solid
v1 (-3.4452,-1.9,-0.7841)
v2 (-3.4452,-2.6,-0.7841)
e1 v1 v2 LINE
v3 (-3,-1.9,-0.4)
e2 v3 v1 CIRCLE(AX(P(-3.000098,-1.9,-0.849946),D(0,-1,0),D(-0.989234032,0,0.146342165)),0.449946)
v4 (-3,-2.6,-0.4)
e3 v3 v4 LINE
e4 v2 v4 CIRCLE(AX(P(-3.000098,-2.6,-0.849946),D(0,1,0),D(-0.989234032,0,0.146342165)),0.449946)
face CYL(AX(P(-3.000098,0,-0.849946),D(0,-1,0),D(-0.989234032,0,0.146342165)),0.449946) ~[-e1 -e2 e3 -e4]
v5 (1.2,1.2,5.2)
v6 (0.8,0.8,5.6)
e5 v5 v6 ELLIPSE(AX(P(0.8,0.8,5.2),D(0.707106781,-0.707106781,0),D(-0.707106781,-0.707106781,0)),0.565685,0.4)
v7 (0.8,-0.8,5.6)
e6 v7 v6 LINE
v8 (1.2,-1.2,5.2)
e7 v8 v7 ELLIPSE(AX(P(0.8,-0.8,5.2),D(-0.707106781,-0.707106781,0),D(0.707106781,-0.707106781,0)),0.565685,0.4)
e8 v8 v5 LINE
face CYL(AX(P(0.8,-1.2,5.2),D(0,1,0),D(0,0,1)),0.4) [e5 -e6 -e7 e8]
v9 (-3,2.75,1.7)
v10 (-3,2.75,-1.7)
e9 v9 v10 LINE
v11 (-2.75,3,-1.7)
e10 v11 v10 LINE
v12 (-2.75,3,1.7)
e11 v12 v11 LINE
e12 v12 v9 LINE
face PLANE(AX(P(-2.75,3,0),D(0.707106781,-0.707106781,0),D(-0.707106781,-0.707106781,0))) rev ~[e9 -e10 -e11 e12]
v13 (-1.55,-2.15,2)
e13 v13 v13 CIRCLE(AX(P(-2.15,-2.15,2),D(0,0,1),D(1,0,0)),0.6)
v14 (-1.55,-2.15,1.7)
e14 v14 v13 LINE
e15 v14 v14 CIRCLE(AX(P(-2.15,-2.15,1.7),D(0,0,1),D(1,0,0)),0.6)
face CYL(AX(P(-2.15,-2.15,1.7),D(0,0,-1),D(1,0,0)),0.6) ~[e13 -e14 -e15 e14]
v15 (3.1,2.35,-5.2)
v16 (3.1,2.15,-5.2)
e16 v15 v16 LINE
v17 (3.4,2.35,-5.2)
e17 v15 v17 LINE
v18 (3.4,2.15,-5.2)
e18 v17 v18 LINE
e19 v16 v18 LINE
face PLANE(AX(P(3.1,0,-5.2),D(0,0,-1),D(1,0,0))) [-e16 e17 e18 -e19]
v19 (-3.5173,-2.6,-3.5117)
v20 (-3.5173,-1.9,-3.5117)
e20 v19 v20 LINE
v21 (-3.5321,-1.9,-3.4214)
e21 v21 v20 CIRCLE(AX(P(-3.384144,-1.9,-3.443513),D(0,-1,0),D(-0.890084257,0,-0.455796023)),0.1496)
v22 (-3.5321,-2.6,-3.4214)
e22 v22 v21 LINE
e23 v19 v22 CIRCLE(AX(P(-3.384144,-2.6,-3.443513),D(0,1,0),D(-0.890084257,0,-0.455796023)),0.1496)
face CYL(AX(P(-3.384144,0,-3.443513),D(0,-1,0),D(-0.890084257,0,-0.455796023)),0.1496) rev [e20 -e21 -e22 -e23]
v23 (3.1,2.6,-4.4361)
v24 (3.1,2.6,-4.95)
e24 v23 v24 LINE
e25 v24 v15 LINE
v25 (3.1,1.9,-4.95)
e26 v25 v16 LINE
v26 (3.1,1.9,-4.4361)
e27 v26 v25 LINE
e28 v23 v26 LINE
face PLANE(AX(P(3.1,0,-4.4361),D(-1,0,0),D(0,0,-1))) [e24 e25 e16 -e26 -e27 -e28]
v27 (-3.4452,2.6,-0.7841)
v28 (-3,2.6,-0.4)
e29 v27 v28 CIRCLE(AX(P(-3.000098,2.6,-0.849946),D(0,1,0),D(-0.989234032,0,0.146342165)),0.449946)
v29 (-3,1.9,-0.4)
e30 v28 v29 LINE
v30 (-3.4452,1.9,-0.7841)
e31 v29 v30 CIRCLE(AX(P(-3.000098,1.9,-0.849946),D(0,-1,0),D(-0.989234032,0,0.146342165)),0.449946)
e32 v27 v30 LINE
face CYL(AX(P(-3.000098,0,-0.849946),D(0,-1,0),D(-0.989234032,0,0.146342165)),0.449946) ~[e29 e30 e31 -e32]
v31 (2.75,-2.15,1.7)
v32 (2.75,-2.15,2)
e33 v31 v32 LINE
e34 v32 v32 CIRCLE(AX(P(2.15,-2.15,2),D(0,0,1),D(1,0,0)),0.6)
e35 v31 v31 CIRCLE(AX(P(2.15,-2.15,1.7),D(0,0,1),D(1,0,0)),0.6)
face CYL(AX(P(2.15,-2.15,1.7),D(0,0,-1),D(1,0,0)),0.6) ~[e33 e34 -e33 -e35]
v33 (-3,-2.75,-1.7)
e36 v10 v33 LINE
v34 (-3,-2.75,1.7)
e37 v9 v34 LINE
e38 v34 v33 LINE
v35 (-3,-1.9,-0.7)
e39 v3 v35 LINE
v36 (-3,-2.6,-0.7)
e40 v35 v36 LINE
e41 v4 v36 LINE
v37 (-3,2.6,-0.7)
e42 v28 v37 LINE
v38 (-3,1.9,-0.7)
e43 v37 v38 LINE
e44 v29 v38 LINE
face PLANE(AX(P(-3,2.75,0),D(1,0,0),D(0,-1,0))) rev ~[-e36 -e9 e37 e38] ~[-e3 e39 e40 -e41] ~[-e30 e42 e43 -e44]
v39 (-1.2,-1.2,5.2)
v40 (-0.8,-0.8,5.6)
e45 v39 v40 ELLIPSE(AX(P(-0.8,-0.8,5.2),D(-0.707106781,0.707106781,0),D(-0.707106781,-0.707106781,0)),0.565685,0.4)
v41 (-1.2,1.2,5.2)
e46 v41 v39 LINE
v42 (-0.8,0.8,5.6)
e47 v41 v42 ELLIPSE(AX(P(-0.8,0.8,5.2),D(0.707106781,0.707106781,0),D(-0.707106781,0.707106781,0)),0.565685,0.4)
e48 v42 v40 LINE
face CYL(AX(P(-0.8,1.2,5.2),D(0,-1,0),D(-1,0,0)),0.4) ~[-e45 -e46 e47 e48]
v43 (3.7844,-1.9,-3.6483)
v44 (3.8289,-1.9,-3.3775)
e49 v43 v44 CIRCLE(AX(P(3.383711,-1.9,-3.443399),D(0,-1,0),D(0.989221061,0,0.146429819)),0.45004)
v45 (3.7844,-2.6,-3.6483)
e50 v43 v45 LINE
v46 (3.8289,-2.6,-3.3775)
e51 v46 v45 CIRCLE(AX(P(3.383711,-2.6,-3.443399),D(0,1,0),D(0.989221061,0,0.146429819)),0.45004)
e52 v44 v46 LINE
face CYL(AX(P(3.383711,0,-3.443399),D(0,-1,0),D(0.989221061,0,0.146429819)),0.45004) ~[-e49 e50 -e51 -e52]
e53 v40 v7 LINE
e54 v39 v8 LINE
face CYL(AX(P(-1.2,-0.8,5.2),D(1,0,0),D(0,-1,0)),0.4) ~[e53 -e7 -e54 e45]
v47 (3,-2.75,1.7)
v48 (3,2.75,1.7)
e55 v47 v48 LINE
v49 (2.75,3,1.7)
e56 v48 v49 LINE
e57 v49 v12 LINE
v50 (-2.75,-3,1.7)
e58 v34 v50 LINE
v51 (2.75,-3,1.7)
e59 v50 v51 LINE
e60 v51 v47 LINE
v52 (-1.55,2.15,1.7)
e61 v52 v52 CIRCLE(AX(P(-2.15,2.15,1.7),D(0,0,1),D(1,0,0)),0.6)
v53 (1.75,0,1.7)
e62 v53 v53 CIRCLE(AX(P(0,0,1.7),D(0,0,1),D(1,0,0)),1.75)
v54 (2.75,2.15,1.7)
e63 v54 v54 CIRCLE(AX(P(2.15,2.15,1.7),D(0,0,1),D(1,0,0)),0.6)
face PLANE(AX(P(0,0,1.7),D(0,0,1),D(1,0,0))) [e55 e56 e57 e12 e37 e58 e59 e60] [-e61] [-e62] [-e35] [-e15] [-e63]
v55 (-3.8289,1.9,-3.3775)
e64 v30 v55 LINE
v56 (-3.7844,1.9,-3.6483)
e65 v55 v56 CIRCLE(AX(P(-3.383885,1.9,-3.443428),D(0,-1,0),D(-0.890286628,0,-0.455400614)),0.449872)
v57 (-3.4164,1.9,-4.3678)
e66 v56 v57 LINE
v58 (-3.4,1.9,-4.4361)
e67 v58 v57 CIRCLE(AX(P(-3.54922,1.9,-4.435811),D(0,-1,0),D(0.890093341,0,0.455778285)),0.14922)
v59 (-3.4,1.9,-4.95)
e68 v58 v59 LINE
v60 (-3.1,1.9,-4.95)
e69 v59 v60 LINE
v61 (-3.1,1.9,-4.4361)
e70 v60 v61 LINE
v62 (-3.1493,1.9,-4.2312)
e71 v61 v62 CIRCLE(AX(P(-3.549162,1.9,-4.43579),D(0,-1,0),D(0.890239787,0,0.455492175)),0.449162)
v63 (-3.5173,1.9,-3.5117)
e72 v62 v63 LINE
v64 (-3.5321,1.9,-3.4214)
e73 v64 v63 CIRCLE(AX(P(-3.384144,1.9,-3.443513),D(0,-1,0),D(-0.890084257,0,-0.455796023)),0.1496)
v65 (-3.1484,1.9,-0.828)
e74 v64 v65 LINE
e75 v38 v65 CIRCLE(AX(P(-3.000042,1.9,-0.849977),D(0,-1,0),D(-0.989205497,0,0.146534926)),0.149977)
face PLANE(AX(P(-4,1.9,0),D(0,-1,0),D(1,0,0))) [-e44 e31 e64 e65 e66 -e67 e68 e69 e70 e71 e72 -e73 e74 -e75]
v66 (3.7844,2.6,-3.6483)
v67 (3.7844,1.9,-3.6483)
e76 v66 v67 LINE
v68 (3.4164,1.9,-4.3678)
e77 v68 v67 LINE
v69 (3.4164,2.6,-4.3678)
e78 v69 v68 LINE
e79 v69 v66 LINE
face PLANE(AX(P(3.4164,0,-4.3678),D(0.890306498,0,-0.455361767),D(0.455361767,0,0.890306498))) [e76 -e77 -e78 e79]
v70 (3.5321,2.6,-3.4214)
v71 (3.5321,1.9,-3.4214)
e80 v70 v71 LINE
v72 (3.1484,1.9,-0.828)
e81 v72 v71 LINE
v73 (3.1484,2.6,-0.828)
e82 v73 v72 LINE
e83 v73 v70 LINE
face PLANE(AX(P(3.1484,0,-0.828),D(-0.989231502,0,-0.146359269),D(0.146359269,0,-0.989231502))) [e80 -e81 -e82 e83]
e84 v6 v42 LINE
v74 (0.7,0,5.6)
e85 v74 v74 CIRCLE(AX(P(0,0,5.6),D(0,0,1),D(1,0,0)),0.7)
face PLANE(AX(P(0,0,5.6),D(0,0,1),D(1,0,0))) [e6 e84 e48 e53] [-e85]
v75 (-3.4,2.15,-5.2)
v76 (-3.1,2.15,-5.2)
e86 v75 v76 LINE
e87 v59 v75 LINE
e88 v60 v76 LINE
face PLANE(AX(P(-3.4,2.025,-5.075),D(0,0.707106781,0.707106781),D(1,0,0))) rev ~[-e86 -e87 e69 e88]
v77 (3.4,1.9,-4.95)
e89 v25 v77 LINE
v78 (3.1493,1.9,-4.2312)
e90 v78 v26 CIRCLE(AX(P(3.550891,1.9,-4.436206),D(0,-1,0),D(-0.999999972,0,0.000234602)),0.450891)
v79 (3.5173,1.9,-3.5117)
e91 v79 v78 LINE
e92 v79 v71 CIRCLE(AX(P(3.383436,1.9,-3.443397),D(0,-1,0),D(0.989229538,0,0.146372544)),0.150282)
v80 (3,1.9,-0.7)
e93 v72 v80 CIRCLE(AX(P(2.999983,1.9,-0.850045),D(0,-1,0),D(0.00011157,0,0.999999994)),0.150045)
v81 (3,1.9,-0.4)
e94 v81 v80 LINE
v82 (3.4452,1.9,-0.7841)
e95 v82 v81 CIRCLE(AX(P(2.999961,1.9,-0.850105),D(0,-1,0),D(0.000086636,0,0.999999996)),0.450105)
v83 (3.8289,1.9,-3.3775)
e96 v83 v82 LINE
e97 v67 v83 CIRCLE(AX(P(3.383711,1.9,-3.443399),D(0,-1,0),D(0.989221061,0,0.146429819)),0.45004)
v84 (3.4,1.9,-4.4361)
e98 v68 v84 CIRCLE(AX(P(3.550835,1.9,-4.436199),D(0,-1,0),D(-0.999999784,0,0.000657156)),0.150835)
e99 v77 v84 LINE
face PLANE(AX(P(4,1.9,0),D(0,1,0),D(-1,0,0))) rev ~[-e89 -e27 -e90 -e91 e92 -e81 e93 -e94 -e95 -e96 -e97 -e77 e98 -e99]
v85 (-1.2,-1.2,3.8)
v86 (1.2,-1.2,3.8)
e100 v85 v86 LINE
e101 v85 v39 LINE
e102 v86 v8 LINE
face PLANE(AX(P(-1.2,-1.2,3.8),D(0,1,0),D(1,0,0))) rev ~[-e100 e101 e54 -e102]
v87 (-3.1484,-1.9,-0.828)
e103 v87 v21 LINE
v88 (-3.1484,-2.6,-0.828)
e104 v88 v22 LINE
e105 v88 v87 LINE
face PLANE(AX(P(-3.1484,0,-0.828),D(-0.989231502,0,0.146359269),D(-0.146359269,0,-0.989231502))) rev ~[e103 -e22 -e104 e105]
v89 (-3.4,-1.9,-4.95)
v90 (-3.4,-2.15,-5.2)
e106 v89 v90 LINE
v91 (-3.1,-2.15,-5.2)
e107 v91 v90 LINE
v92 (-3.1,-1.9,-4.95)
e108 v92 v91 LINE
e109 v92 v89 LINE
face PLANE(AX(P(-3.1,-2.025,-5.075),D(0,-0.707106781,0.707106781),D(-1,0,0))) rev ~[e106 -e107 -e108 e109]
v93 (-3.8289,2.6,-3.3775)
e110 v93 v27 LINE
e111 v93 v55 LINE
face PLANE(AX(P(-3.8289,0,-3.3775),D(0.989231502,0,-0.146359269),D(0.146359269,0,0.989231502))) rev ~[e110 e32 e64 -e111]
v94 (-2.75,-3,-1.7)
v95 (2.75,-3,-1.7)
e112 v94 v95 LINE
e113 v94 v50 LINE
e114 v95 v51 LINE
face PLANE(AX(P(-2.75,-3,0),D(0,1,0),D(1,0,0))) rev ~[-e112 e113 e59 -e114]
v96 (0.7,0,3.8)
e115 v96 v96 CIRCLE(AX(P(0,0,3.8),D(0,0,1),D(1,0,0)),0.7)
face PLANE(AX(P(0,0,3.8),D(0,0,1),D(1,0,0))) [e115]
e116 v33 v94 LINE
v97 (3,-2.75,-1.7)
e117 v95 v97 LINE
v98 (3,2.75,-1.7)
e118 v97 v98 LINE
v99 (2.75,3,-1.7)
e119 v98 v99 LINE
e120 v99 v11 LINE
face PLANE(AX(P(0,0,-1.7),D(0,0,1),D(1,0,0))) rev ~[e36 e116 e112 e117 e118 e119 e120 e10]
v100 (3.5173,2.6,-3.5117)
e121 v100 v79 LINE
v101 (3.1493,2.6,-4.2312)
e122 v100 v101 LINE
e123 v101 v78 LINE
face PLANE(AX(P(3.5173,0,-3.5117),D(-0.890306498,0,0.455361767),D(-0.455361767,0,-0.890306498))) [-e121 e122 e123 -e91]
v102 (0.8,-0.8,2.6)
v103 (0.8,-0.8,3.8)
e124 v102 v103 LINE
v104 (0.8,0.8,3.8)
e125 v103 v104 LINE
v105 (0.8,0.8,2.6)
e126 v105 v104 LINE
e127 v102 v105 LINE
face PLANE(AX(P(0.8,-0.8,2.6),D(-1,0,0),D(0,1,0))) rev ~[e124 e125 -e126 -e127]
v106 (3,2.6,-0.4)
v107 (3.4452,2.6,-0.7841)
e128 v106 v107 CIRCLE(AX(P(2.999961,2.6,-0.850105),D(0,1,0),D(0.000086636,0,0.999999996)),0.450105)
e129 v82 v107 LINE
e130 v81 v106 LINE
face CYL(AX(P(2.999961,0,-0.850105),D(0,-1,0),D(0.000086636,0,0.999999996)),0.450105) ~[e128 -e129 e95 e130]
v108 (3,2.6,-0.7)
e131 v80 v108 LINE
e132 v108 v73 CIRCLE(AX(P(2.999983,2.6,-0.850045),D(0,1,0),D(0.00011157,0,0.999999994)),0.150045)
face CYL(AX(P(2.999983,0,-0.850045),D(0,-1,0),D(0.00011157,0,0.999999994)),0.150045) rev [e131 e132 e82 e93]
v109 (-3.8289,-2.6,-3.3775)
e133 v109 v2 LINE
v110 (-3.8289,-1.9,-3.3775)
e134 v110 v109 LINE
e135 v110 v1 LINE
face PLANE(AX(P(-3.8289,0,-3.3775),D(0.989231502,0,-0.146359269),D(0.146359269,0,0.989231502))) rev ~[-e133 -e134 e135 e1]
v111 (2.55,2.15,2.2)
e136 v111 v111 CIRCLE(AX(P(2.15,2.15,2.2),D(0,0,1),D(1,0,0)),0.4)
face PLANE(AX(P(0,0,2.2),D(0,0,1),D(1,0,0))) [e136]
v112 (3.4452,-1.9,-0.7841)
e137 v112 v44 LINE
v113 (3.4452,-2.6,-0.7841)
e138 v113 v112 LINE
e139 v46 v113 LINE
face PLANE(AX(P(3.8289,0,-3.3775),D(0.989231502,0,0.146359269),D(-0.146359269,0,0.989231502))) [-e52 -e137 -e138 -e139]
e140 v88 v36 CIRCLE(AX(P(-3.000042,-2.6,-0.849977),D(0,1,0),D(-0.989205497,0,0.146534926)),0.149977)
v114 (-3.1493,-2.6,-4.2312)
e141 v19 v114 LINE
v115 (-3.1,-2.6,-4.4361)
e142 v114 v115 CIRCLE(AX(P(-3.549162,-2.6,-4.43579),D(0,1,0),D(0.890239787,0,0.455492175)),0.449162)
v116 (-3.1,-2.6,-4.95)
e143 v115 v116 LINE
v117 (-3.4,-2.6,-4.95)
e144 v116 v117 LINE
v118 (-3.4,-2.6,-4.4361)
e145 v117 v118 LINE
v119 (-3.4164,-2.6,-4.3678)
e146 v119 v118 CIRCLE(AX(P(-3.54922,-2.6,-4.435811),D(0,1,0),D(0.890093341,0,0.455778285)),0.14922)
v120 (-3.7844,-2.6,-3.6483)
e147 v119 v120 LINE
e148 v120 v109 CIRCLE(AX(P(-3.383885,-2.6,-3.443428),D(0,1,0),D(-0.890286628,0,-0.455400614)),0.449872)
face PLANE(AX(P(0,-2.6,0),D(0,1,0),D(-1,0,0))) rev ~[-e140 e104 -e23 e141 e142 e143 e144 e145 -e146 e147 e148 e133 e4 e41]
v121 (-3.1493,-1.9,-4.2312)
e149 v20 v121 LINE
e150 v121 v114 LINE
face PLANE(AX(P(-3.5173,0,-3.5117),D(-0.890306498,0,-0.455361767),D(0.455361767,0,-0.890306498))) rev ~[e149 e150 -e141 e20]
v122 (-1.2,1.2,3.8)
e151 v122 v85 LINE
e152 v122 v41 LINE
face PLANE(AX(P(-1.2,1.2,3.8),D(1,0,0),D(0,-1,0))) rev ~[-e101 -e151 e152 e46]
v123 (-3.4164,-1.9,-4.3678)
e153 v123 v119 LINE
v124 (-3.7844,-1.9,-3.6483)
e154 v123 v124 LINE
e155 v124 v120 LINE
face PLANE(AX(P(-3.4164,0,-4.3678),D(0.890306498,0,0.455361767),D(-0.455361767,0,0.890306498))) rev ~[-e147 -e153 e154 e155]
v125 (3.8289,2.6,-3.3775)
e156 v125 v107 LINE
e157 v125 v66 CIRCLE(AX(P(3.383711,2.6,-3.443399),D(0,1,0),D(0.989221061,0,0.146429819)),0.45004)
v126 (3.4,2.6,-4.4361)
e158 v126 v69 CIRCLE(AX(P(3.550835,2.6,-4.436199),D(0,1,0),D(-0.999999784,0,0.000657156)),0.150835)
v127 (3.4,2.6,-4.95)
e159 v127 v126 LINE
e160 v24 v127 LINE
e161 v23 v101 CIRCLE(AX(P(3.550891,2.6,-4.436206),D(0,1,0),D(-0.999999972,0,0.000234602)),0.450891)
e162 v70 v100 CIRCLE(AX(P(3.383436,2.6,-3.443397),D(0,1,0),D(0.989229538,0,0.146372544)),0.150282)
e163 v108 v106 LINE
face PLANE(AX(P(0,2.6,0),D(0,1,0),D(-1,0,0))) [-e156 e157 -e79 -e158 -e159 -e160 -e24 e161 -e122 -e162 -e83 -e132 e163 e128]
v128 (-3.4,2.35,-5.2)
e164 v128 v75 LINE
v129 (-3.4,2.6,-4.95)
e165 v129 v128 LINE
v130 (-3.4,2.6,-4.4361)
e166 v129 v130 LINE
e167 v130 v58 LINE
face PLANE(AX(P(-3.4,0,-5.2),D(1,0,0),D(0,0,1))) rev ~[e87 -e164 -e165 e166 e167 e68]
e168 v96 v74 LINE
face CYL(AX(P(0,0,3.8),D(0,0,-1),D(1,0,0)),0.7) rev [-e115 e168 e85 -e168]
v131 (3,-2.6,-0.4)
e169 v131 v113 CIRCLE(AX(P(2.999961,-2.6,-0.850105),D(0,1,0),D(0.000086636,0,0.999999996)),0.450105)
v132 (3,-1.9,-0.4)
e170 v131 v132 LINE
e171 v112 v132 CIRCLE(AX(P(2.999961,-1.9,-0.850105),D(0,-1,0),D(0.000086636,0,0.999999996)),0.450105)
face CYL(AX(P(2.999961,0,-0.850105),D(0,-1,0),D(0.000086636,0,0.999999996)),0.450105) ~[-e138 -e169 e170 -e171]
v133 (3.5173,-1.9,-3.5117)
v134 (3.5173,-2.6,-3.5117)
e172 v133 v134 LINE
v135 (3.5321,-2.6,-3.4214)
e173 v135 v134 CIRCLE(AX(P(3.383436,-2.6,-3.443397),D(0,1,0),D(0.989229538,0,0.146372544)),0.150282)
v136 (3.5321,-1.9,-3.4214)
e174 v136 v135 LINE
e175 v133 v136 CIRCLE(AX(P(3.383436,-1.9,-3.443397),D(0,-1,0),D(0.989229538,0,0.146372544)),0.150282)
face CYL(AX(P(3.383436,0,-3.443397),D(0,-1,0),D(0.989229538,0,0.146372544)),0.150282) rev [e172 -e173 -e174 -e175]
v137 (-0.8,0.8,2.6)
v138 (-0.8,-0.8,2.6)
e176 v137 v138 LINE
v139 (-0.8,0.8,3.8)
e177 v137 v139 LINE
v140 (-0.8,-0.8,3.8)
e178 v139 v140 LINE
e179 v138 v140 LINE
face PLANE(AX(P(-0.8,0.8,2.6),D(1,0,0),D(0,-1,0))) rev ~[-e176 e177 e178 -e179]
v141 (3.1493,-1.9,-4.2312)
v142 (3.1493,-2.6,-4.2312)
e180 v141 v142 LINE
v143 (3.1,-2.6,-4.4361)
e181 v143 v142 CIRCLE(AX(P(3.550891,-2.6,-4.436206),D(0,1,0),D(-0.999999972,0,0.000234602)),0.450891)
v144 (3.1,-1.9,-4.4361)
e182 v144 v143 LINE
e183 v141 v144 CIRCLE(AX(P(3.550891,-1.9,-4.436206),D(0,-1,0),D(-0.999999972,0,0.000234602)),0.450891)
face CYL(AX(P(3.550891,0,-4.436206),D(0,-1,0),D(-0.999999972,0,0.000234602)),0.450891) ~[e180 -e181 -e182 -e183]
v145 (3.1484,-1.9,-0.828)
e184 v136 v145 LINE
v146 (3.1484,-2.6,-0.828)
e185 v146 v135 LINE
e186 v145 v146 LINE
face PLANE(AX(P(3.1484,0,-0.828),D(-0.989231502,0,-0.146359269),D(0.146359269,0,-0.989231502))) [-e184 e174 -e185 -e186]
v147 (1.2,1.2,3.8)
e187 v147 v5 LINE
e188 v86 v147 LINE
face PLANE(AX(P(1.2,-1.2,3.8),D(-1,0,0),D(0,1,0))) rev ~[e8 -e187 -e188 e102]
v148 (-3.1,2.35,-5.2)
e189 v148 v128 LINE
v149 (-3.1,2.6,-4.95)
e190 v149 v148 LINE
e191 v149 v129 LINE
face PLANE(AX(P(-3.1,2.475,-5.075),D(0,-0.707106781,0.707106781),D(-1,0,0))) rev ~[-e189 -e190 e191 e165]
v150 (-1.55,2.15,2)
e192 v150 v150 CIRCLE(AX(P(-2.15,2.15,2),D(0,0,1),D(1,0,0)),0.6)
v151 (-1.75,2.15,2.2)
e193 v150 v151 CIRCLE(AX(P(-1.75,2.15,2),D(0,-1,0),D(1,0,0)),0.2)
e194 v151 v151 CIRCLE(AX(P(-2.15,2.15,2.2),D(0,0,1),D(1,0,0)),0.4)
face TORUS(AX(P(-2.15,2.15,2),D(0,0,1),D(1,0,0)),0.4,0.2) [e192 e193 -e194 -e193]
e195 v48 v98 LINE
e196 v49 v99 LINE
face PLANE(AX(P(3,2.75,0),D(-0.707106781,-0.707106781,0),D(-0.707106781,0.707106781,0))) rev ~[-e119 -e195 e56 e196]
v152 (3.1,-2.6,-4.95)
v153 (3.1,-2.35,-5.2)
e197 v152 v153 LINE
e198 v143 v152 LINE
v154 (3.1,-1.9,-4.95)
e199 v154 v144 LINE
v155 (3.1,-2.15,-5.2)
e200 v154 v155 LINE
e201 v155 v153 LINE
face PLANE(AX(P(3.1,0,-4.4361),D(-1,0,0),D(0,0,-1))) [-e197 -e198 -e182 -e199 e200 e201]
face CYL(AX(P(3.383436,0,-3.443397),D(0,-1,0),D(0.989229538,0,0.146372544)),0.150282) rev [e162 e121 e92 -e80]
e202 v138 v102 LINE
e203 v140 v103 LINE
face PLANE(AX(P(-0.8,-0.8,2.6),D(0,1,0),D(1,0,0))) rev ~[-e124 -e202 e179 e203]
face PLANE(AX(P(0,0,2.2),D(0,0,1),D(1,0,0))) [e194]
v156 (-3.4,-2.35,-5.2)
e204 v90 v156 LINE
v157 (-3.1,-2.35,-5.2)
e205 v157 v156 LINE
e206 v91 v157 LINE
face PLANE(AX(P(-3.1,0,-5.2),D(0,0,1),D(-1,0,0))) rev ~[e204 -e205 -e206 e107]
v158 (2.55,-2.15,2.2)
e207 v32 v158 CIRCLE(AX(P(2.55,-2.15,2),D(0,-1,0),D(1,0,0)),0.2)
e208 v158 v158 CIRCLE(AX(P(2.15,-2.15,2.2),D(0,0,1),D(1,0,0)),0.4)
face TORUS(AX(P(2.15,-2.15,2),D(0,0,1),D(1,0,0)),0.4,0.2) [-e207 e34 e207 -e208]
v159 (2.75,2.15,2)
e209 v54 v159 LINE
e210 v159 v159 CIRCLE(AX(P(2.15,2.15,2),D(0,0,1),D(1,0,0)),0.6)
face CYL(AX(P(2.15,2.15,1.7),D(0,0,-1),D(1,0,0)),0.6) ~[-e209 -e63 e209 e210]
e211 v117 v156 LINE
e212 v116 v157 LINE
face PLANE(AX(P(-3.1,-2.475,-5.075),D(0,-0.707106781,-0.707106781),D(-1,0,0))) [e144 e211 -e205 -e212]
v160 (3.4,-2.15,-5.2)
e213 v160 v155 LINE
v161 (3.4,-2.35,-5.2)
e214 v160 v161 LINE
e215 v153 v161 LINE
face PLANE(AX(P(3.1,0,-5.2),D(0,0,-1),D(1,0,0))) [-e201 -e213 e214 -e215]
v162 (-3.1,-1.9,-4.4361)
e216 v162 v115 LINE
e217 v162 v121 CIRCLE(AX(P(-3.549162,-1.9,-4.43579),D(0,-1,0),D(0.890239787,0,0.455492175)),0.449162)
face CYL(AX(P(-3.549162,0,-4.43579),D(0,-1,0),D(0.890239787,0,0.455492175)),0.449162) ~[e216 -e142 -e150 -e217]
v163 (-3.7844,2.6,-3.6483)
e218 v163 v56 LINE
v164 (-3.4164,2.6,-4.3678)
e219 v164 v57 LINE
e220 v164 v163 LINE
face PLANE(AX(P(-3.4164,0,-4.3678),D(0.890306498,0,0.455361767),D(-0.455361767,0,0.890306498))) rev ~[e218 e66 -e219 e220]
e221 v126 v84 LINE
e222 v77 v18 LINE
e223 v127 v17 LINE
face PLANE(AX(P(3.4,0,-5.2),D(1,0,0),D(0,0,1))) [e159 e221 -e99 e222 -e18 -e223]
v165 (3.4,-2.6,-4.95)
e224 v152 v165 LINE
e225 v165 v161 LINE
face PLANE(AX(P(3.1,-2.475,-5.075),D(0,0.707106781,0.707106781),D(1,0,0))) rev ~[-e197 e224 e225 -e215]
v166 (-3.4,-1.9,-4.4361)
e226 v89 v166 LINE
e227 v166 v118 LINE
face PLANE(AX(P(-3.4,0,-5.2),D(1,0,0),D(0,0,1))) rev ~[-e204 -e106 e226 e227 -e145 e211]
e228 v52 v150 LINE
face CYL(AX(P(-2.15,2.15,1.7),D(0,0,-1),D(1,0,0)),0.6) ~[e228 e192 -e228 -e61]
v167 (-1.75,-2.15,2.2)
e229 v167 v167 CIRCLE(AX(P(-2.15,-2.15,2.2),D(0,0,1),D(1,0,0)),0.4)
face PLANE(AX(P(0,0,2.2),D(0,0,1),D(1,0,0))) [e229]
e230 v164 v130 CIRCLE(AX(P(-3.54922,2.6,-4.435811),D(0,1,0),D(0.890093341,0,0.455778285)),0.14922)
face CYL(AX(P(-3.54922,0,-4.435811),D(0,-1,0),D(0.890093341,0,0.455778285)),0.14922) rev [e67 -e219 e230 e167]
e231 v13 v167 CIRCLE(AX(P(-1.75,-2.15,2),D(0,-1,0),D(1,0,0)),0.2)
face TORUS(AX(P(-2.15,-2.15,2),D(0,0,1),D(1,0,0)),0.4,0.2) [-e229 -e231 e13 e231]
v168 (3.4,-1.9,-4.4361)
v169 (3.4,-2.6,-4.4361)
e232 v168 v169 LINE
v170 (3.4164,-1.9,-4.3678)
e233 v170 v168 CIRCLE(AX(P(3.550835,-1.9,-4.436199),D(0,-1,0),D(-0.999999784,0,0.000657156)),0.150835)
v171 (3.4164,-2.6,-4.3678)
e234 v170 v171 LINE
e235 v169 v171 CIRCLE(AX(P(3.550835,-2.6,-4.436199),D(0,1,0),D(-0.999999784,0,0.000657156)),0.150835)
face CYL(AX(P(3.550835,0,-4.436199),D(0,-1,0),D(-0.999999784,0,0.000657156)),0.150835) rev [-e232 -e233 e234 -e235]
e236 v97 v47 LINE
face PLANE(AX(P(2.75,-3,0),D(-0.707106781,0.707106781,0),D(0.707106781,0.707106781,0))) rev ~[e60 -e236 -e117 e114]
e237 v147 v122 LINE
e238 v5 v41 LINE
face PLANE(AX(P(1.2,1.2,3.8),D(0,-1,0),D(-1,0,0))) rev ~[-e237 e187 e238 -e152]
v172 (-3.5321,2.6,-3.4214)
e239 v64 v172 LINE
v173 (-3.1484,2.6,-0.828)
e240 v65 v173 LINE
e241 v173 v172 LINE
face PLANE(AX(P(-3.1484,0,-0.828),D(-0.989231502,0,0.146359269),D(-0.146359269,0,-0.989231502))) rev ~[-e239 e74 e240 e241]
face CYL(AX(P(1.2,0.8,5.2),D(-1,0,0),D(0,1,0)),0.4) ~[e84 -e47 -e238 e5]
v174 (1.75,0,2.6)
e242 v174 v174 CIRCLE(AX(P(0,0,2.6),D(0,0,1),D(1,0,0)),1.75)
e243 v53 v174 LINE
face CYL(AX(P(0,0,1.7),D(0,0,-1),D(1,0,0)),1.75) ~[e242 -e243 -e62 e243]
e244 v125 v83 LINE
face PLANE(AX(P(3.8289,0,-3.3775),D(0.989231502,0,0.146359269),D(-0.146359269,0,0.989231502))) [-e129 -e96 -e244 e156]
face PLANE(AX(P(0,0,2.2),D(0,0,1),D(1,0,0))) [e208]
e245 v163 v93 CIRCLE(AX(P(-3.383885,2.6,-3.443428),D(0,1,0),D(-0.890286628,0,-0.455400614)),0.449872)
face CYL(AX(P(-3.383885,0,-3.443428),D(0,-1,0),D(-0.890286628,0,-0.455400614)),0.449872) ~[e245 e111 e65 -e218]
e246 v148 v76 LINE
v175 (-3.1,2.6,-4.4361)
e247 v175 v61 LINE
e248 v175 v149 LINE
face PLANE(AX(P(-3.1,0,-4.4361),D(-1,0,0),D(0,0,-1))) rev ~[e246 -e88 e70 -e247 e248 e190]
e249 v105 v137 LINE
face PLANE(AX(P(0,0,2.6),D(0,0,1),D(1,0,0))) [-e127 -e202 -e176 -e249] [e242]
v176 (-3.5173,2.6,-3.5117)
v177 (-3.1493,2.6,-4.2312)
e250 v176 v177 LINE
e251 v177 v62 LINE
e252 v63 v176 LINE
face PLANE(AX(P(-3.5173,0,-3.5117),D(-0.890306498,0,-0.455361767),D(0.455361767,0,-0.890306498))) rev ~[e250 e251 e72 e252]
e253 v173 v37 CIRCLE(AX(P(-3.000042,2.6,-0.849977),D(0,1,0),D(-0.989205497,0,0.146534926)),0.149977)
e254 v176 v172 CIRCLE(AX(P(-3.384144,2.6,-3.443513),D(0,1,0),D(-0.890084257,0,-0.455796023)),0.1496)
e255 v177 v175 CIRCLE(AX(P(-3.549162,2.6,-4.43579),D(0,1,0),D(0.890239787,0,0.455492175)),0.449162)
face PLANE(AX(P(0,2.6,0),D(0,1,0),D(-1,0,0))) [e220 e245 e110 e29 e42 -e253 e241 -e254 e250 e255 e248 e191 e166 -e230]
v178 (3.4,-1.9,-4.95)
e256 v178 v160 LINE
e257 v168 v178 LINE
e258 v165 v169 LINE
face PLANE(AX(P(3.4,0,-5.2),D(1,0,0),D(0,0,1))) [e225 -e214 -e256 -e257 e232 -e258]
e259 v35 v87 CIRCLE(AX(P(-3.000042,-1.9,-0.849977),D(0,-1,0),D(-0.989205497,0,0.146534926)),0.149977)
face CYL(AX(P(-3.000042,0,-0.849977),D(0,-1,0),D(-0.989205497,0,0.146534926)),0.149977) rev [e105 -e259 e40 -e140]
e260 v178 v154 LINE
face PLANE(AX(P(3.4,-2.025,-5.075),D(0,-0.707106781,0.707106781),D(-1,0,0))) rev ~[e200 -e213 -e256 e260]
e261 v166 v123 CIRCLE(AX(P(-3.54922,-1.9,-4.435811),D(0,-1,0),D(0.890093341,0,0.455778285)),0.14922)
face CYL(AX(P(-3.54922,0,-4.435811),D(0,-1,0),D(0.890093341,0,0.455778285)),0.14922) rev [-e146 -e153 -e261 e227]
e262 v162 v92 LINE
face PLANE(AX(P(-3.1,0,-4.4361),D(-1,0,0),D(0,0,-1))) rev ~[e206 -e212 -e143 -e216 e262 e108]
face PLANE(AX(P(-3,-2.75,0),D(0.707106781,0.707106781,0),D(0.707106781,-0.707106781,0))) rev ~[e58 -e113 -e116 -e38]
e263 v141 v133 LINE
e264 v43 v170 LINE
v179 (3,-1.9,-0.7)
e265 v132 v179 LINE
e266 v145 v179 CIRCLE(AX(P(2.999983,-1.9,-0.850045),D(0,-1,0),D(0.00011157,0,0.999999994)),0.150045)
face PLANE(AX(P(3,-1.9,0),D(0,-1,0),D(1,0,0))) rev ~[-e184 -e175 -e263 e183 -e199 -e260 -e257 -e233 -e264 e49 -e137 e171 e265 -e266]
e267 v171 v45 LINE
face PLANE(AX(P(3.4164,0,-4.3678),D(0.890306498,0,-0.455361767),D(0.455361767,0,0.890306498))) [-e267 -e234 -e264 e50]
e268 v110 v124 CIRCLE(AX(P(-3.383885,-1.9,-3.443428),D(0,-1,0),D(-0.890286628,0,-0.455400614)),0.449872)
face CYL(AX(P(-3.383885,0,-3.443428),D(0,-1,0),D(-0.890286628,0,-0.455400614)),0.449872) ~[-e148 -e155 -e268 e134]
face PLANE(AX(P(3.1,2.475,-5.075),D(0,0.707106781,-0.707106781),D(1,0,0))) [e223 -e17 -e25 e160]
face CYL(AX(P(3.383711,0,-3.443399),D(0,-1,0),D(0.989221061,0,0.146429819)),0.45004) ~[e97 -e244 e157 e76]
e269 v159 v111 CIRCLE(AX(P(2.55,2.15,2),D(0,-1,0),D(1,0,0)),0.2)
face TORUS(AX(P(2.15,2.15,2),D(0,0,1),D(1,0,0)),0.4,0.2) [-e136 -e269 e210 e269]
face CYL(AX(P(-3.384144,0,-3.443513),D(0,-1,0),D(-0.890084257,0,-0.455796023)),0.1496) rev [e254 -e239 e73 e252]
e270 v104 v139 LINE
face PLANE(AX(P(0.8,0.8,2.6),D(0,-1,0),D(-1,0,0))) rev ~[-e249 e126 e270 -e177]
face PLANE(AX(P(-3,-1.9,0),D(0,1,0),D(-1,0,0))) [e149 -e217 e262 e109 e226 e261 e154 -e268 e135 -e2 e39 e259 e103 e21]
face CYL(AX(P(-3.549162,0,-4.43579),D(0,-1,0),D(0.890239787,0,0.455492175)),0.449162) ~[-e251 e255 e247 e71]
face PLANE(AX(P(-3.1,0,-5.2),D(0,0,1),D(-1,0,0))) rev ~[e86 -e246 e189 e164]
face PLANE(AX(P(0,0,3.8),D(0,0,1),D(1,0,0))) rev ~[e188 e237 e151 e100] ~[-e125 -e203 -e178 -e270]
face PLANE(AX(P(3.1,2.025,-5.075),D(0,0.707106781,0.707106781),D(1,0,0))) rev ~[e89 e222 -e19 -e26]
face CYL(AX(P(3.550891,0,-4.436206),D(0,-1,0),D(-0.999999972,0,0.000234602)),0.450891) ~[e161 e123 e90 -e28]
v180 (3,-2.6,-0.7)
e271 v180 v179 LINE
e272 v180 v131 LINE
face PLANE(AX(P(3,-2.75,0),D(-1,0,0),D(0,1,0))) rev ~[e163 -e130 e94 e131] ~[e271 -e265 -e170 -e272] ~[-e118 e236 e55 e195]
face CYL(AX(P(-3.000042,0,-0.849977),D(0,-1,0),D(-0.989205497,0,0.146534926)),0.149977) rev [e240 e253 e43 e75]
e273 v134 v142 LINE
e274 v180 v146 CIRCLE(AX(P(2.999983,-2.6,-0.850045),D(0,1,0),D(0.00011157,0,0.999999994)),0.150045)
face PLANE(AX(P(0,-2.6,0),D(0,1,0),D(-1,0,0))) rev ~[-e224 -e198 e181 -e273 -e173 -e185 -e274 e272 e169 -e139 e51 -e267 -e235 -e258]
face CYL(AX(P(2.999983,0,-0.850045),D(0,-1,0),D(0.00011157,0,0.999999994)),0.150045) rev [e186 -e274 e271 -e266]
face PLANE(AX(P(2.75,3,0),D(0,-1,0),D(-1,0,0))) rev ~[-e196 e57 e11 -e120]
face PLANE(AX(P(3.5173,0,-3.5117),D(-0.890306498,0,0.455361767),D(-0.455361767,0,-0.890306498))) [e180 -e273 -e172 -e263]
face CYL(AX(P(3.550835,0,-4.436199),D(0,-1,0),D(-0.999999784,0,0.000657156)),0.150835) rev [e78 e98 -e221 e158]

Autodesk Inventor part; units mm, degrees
ref_plane "YZ Plane" through (0, 0, 0) normal (1, 0, 0) x (0, 1, 0)
ref_plane "XZ Plane" through (0, 0, 0) normal (0, 1, 0) x (-1, 0, 0)
ref_plane "XY Plane" through (0, 0, 0) normal (0, 0, 1) x (1, 0, 0)
sketch "Sketch1" plane through (0, 0, 0) normal (0, 0, 1) x (1, 0, 0)
  line L0 (-2.75, -3) -> (2.75, -3)
  line L1 (3, -2.75) -> (3, 2.75)
  line L2 (2.75, 3) -> (-2.75, 3)
  line L3 (-3, 2.75) -> (-3, -2.75)
  line L4 (-3, -3) -> (3, 3) construction
  line L5 (3, -3) -> (-3, 3) construction
  line L6 (-2.75, 3) -> (-3, 2.75)
  line L7 (-3, -2.75) -> (-2.75, -3)
  line L8 (2.75, -3) -> (3, -2.75)
  line L9 (3, 2.75) -> (2.75, 3)
  point P0 (0, 0)
  dimension "d0" = 6
  dimension "d1" = 0.25
  dimension "d2" = 0.25
  dimension "d3" = 0.25
  dimension "d4" = 0.25
  dimension "d5" = 0.25
  dimension "d6" = 0.25
  dimension "d7" = 0.25
  dimension "d8" = 0.25
extrude "Extrusion1" add sketch "Sketch1" along normal mid plane 3.4
sketch "Sketch2" plane through (0, 0, 1.7) normal (0, 0, 1) x (1, 0, 0)
  line L0 (-2.15, -2.15) -> (2.15, -2.15) construction
  line L1 (2.15, -2.15) -> (2.15, 2.15) construction
  line L2 (2.15, 2.15) -> (-2.15, 2.15) construction
  line L3 (-2.15, 2.15) -> (-2.15, -2.15) construction
  line L4 (-2.15, -2.15) -> (2.15, 2.15) construction
  line L5 (2.15, -2.15) -> (-2.15, 2.15) construction
  circle A0 centre (-2.15, 2.15) radius 0.6
  circle A1 centre (2.15, 2.15) radius 0.6
  circle A2 centre (2.15, -2.15) radius 0.6
  circle A3 centre (-2.15, -2.15) radius 0.6
  point P0 (0, 0)
  dimension "d11" = 4.3
  dimension "d12" = 1.2
extrude "Extrusion2" add sketch "Sketch2" along normal blind 0.5
sketch "Sketch3" plane through (0, 0, 1.7) normal (0, 0, 1) x (1, 0, 0)
  circle A0 centre (0, 0) radius 1.75
  dimension "d15" = 3.5
extrude "Extrusion3" add sketch "Sketch3" along normal blind 0.9
sketch "Sketch4" plane through (0, 0, 2.6) normal (0, 0, 1) x (1, 0, 0)
  line L0 (-0.8, -0.8) -> (0.8, -0.8)
  line L1 (0.8, -0.8) -> (0.8, 0.8)
  line L2 (0.8, 0.8) -> (-0.8, 0.8)
  line L3 (-0.8, 0.8) -> (-0.8, -0.8)
  line L4 (-0.8, -0.8) -> (0.8, 0.8) construction
  line L5 (0.8, -0.8) -> (-0.8, 0.8) construction
  point P0 (0, 0)
  dimension "d18" = 1.6
extrude "Extrusion4" add sketch "Sketch4" along normal blind 1.2
sketch "Sketch5" plane through (0, 0, 3.8) normal (0, 0, 1) x (1, 0, 0)
  circle A0 centre (0, 0) radius 0.7
  line L0 (-1.2, -1.2) -> (1.2, -1.2)
  line L1 (1.2, -1.2) -> (1.2, 1.2)
  line L2 (1.2, 1.2) -> (-1.2, 1.2)
  line L3 (-1.2, 1.2) -> (-1.2, -1.2)
  line L4 (-1.2, -1.2) -> (1.2, 1.2) construction
  line L5 (1.2, -1.2) -> (-1.2, 1.2) construction
  dimension "d21" = 1.4
  dimension "d22" = 2.4
extrude "Extrusion5" add sketch "Sketch5" along normal blind 1.8
fillet "Fillet1" radius 0.4 4 edges at (0, 1.2, 5.6) (-1.2, 0, 5.6) (0, -1.2, 5.6) (1.2, 0, 5.6)
sketch "Sketch6" plane through (0, 0, 0) normal (0, 1, 0) x (-1, 0, 0)
  line L0 (-3, -1.7) -> (-3, 1.7) projected
  line L1 (-3, -1.7) -> (-3, 1.7) projected
  line L2 (-3.1484, -0.828) -> (-3.5321, -3.4214)
  arc A0 (-3.5321, -3.4214) -> (-3.5173, -3.5117) centre (-3.3838, -3.4434) ccw
  line L3 (-3.5173, -3.5117) -> (-3.1493, -4.2312)
  arc A1 (-3.1, -4.4361) -> (-3.1493, -4.2312) centre (-3.55, -4.4361) ccw
  line L4 (-3.1, -4.4361) -> (-3.1, -5.2)
  line L5 (-3.1, -5.2) -> (-3.4, -5.2)
  line L6 (-3.4, -5.2) -> (-3.4, -4.4361)
  arc A2 (-3.4, -4.4361) -> (-3.4164, -4.3678) centre (-3.55, -4.4361) ccw
  line L7 (-3.4164, -4.3678) -> (-3.7844, -3.6483)
  arc A3 (-3.8289, -3.3775) -> (-3.7844, -3.6483) centre (-3.3838, -3.4434) ccw
  line L8 (-3.8289, -3.3775) -> (-3.4452, -0.7841)
  line L9 (-3.8289, -3.3775) -> (-3.85, -3.52) construction
  line L10 (-3.85, -3.52) -> (-3.7844, -3.6483) construction
  line L11 (-3.4, -4.4361) -> (-3.4, -4.4) construction
  line L12 (-3.4, -4.4) -> (-3.4164, -4.3678) construction
  arc A4 (-3, -0.7) -> (-3.1484, -0.828) centre (-3, -0.85) ccw
  arc A5 (-3, -0.4) -> (-3.4452, -0.7841) centre (-3, -0.85) ccw
  line L13 (2.75, -1.7) -> (-2.75, -1.7) projected
  line L14 (0, 0) -> (0, -1.7) construction
  line L15 (-3, -0.4) -> (-3, -0.7)
  line L16 (3.1484, -0.828) -> (3.5321, -3.4214)
  arc A6 (3.5173, -3.5117) -> (3.5321, -3.4214) centre (3.3838, -3.4434) ccw
  line L17 (3.5173, -3.5117) -> (3.1493, -4.2312)
  arc A7 (3.1493, -4.2312) -> (3.1, -4.4361) centre (3.55, -4.4361) ccw
  line L18 (3.1, -4.4361) -> (3.1, -5.2)
  line L19 (3.1, -5.2) -> (3.4, -5.2)
  line L20 (3.4, -5.2) -> (3.4, -4.4361)
  arc A8 (3.4164, -4.3678) -> (3.4, -4.4361) centre (3.55, -4.4361) ccw
  line L21 (3.4164, -4.3678) -> (3.7844, -3.6483)
  arc A9 (3.7844, -3.6483) -> (3.8289, -3.3775) centre (3.3838, -3.4434) ccw
  line L22 (3.8289, -3.3775) -> (3.4452, -0.7841)
  line L23 (3.8289, -3.3775) -> (3.85, -3.52) construction
  line L24 (3.85, -3.52) -> (3.7844, -3.6483) construction
  line L25 (3.4, -4.4361) -> (3.4, -4.4) construction
  line L26 (3.4, -4.4) -> (3.4164, -4.3678) construction
  arc A10 (3.1484, -0.828) -> (3, -0.7) centre (3, -0.85) ccw
  arc A11 (3.4452, -0.7841) -> (3, -0.4) centre (3, -0.85) ccw
  line L27 (3, -0.4) -> (3, -0.7)
  dimension "d26" = 0.3
  dimension "d28" = 3.5
  dimension "d29" = 3.4
  dimension "d30" = 0.15
  dimension "d31" = 3.85
  dimension "d32" = 1.82
  dimension "d33" = 0.8
  dimension "d34" = 1
extrude "Extrusion6" add sketch "Sketch6" along normal mid plane 5.2
sketch "Sketch7" plane through (0, 0, 0) normal (0, 0, 1) x (1, 0, 0)
  line L0 (-3, 2.75) -> (-3, -2.75) projected
  line L1 (-4, 1.9) -> (-3, 1.9)
  line L2 (-3, 1.9) -> (-3, -1.9)
  line L3 (-3, -1.9) -> (-4, -1.9)
  line L4 (-4, -1.9) -> (-4, 1.9)
  line L5 (3, -2.75) -> (3, 2.75) projected
  line L6 (4, 1.9) -> (3, 1.9)
  line L7 (3, 1.9) -> (3, -1.9)
  line L8 (3, -1.9) -> (4, -1.9)
  line L9 (4, -1.9) -> (4, 1.9)
  point P0 (0, 0)
  point P1 (-3.8289, 2.6)
  point P2 (3, 0)
  point P3 (3, 0)
  point P4 (-3, 0)
  dimension "d37" = 0.7
  dimension "d40" = 1
extrude "Extrusion7" cut sketch "Sketch7" against normal through all
chamfer "Chamfer1" distance 0.25 angle 45 8 edges at (-3.25, -2.6, -5.2) (-3.25, -1.9, -5.2) (3.25, -2.6, -5.2) (3.25, -1.9, -5.2) (3.25, 1.9, -5.2) (3.25, 2.6, -5.2) (-3.25, 1.9, -5.2) (-3.25, 2.6, -5.2)
fillet "Fillet2" radius 0.2 4 edges at (-2.75, -2.15, 2.2) (1.55, -2.15, 2.2) (-2.75, 2.15, 2.2) (1.55, 2.15, 2.2)
equation "\"d2\" = d1"
equation "\"d3\" = d1"
equation "\"d4\" = d3"
equation "\"d5\" = d1"
equation "\"d6\" = d5"
equation "\"d7\" = d1"
equation "\"d8\" = d7"
equation "\"d30\" = 0.5 * d26"
properties part number "49-0005" material "ABS Plastic"
